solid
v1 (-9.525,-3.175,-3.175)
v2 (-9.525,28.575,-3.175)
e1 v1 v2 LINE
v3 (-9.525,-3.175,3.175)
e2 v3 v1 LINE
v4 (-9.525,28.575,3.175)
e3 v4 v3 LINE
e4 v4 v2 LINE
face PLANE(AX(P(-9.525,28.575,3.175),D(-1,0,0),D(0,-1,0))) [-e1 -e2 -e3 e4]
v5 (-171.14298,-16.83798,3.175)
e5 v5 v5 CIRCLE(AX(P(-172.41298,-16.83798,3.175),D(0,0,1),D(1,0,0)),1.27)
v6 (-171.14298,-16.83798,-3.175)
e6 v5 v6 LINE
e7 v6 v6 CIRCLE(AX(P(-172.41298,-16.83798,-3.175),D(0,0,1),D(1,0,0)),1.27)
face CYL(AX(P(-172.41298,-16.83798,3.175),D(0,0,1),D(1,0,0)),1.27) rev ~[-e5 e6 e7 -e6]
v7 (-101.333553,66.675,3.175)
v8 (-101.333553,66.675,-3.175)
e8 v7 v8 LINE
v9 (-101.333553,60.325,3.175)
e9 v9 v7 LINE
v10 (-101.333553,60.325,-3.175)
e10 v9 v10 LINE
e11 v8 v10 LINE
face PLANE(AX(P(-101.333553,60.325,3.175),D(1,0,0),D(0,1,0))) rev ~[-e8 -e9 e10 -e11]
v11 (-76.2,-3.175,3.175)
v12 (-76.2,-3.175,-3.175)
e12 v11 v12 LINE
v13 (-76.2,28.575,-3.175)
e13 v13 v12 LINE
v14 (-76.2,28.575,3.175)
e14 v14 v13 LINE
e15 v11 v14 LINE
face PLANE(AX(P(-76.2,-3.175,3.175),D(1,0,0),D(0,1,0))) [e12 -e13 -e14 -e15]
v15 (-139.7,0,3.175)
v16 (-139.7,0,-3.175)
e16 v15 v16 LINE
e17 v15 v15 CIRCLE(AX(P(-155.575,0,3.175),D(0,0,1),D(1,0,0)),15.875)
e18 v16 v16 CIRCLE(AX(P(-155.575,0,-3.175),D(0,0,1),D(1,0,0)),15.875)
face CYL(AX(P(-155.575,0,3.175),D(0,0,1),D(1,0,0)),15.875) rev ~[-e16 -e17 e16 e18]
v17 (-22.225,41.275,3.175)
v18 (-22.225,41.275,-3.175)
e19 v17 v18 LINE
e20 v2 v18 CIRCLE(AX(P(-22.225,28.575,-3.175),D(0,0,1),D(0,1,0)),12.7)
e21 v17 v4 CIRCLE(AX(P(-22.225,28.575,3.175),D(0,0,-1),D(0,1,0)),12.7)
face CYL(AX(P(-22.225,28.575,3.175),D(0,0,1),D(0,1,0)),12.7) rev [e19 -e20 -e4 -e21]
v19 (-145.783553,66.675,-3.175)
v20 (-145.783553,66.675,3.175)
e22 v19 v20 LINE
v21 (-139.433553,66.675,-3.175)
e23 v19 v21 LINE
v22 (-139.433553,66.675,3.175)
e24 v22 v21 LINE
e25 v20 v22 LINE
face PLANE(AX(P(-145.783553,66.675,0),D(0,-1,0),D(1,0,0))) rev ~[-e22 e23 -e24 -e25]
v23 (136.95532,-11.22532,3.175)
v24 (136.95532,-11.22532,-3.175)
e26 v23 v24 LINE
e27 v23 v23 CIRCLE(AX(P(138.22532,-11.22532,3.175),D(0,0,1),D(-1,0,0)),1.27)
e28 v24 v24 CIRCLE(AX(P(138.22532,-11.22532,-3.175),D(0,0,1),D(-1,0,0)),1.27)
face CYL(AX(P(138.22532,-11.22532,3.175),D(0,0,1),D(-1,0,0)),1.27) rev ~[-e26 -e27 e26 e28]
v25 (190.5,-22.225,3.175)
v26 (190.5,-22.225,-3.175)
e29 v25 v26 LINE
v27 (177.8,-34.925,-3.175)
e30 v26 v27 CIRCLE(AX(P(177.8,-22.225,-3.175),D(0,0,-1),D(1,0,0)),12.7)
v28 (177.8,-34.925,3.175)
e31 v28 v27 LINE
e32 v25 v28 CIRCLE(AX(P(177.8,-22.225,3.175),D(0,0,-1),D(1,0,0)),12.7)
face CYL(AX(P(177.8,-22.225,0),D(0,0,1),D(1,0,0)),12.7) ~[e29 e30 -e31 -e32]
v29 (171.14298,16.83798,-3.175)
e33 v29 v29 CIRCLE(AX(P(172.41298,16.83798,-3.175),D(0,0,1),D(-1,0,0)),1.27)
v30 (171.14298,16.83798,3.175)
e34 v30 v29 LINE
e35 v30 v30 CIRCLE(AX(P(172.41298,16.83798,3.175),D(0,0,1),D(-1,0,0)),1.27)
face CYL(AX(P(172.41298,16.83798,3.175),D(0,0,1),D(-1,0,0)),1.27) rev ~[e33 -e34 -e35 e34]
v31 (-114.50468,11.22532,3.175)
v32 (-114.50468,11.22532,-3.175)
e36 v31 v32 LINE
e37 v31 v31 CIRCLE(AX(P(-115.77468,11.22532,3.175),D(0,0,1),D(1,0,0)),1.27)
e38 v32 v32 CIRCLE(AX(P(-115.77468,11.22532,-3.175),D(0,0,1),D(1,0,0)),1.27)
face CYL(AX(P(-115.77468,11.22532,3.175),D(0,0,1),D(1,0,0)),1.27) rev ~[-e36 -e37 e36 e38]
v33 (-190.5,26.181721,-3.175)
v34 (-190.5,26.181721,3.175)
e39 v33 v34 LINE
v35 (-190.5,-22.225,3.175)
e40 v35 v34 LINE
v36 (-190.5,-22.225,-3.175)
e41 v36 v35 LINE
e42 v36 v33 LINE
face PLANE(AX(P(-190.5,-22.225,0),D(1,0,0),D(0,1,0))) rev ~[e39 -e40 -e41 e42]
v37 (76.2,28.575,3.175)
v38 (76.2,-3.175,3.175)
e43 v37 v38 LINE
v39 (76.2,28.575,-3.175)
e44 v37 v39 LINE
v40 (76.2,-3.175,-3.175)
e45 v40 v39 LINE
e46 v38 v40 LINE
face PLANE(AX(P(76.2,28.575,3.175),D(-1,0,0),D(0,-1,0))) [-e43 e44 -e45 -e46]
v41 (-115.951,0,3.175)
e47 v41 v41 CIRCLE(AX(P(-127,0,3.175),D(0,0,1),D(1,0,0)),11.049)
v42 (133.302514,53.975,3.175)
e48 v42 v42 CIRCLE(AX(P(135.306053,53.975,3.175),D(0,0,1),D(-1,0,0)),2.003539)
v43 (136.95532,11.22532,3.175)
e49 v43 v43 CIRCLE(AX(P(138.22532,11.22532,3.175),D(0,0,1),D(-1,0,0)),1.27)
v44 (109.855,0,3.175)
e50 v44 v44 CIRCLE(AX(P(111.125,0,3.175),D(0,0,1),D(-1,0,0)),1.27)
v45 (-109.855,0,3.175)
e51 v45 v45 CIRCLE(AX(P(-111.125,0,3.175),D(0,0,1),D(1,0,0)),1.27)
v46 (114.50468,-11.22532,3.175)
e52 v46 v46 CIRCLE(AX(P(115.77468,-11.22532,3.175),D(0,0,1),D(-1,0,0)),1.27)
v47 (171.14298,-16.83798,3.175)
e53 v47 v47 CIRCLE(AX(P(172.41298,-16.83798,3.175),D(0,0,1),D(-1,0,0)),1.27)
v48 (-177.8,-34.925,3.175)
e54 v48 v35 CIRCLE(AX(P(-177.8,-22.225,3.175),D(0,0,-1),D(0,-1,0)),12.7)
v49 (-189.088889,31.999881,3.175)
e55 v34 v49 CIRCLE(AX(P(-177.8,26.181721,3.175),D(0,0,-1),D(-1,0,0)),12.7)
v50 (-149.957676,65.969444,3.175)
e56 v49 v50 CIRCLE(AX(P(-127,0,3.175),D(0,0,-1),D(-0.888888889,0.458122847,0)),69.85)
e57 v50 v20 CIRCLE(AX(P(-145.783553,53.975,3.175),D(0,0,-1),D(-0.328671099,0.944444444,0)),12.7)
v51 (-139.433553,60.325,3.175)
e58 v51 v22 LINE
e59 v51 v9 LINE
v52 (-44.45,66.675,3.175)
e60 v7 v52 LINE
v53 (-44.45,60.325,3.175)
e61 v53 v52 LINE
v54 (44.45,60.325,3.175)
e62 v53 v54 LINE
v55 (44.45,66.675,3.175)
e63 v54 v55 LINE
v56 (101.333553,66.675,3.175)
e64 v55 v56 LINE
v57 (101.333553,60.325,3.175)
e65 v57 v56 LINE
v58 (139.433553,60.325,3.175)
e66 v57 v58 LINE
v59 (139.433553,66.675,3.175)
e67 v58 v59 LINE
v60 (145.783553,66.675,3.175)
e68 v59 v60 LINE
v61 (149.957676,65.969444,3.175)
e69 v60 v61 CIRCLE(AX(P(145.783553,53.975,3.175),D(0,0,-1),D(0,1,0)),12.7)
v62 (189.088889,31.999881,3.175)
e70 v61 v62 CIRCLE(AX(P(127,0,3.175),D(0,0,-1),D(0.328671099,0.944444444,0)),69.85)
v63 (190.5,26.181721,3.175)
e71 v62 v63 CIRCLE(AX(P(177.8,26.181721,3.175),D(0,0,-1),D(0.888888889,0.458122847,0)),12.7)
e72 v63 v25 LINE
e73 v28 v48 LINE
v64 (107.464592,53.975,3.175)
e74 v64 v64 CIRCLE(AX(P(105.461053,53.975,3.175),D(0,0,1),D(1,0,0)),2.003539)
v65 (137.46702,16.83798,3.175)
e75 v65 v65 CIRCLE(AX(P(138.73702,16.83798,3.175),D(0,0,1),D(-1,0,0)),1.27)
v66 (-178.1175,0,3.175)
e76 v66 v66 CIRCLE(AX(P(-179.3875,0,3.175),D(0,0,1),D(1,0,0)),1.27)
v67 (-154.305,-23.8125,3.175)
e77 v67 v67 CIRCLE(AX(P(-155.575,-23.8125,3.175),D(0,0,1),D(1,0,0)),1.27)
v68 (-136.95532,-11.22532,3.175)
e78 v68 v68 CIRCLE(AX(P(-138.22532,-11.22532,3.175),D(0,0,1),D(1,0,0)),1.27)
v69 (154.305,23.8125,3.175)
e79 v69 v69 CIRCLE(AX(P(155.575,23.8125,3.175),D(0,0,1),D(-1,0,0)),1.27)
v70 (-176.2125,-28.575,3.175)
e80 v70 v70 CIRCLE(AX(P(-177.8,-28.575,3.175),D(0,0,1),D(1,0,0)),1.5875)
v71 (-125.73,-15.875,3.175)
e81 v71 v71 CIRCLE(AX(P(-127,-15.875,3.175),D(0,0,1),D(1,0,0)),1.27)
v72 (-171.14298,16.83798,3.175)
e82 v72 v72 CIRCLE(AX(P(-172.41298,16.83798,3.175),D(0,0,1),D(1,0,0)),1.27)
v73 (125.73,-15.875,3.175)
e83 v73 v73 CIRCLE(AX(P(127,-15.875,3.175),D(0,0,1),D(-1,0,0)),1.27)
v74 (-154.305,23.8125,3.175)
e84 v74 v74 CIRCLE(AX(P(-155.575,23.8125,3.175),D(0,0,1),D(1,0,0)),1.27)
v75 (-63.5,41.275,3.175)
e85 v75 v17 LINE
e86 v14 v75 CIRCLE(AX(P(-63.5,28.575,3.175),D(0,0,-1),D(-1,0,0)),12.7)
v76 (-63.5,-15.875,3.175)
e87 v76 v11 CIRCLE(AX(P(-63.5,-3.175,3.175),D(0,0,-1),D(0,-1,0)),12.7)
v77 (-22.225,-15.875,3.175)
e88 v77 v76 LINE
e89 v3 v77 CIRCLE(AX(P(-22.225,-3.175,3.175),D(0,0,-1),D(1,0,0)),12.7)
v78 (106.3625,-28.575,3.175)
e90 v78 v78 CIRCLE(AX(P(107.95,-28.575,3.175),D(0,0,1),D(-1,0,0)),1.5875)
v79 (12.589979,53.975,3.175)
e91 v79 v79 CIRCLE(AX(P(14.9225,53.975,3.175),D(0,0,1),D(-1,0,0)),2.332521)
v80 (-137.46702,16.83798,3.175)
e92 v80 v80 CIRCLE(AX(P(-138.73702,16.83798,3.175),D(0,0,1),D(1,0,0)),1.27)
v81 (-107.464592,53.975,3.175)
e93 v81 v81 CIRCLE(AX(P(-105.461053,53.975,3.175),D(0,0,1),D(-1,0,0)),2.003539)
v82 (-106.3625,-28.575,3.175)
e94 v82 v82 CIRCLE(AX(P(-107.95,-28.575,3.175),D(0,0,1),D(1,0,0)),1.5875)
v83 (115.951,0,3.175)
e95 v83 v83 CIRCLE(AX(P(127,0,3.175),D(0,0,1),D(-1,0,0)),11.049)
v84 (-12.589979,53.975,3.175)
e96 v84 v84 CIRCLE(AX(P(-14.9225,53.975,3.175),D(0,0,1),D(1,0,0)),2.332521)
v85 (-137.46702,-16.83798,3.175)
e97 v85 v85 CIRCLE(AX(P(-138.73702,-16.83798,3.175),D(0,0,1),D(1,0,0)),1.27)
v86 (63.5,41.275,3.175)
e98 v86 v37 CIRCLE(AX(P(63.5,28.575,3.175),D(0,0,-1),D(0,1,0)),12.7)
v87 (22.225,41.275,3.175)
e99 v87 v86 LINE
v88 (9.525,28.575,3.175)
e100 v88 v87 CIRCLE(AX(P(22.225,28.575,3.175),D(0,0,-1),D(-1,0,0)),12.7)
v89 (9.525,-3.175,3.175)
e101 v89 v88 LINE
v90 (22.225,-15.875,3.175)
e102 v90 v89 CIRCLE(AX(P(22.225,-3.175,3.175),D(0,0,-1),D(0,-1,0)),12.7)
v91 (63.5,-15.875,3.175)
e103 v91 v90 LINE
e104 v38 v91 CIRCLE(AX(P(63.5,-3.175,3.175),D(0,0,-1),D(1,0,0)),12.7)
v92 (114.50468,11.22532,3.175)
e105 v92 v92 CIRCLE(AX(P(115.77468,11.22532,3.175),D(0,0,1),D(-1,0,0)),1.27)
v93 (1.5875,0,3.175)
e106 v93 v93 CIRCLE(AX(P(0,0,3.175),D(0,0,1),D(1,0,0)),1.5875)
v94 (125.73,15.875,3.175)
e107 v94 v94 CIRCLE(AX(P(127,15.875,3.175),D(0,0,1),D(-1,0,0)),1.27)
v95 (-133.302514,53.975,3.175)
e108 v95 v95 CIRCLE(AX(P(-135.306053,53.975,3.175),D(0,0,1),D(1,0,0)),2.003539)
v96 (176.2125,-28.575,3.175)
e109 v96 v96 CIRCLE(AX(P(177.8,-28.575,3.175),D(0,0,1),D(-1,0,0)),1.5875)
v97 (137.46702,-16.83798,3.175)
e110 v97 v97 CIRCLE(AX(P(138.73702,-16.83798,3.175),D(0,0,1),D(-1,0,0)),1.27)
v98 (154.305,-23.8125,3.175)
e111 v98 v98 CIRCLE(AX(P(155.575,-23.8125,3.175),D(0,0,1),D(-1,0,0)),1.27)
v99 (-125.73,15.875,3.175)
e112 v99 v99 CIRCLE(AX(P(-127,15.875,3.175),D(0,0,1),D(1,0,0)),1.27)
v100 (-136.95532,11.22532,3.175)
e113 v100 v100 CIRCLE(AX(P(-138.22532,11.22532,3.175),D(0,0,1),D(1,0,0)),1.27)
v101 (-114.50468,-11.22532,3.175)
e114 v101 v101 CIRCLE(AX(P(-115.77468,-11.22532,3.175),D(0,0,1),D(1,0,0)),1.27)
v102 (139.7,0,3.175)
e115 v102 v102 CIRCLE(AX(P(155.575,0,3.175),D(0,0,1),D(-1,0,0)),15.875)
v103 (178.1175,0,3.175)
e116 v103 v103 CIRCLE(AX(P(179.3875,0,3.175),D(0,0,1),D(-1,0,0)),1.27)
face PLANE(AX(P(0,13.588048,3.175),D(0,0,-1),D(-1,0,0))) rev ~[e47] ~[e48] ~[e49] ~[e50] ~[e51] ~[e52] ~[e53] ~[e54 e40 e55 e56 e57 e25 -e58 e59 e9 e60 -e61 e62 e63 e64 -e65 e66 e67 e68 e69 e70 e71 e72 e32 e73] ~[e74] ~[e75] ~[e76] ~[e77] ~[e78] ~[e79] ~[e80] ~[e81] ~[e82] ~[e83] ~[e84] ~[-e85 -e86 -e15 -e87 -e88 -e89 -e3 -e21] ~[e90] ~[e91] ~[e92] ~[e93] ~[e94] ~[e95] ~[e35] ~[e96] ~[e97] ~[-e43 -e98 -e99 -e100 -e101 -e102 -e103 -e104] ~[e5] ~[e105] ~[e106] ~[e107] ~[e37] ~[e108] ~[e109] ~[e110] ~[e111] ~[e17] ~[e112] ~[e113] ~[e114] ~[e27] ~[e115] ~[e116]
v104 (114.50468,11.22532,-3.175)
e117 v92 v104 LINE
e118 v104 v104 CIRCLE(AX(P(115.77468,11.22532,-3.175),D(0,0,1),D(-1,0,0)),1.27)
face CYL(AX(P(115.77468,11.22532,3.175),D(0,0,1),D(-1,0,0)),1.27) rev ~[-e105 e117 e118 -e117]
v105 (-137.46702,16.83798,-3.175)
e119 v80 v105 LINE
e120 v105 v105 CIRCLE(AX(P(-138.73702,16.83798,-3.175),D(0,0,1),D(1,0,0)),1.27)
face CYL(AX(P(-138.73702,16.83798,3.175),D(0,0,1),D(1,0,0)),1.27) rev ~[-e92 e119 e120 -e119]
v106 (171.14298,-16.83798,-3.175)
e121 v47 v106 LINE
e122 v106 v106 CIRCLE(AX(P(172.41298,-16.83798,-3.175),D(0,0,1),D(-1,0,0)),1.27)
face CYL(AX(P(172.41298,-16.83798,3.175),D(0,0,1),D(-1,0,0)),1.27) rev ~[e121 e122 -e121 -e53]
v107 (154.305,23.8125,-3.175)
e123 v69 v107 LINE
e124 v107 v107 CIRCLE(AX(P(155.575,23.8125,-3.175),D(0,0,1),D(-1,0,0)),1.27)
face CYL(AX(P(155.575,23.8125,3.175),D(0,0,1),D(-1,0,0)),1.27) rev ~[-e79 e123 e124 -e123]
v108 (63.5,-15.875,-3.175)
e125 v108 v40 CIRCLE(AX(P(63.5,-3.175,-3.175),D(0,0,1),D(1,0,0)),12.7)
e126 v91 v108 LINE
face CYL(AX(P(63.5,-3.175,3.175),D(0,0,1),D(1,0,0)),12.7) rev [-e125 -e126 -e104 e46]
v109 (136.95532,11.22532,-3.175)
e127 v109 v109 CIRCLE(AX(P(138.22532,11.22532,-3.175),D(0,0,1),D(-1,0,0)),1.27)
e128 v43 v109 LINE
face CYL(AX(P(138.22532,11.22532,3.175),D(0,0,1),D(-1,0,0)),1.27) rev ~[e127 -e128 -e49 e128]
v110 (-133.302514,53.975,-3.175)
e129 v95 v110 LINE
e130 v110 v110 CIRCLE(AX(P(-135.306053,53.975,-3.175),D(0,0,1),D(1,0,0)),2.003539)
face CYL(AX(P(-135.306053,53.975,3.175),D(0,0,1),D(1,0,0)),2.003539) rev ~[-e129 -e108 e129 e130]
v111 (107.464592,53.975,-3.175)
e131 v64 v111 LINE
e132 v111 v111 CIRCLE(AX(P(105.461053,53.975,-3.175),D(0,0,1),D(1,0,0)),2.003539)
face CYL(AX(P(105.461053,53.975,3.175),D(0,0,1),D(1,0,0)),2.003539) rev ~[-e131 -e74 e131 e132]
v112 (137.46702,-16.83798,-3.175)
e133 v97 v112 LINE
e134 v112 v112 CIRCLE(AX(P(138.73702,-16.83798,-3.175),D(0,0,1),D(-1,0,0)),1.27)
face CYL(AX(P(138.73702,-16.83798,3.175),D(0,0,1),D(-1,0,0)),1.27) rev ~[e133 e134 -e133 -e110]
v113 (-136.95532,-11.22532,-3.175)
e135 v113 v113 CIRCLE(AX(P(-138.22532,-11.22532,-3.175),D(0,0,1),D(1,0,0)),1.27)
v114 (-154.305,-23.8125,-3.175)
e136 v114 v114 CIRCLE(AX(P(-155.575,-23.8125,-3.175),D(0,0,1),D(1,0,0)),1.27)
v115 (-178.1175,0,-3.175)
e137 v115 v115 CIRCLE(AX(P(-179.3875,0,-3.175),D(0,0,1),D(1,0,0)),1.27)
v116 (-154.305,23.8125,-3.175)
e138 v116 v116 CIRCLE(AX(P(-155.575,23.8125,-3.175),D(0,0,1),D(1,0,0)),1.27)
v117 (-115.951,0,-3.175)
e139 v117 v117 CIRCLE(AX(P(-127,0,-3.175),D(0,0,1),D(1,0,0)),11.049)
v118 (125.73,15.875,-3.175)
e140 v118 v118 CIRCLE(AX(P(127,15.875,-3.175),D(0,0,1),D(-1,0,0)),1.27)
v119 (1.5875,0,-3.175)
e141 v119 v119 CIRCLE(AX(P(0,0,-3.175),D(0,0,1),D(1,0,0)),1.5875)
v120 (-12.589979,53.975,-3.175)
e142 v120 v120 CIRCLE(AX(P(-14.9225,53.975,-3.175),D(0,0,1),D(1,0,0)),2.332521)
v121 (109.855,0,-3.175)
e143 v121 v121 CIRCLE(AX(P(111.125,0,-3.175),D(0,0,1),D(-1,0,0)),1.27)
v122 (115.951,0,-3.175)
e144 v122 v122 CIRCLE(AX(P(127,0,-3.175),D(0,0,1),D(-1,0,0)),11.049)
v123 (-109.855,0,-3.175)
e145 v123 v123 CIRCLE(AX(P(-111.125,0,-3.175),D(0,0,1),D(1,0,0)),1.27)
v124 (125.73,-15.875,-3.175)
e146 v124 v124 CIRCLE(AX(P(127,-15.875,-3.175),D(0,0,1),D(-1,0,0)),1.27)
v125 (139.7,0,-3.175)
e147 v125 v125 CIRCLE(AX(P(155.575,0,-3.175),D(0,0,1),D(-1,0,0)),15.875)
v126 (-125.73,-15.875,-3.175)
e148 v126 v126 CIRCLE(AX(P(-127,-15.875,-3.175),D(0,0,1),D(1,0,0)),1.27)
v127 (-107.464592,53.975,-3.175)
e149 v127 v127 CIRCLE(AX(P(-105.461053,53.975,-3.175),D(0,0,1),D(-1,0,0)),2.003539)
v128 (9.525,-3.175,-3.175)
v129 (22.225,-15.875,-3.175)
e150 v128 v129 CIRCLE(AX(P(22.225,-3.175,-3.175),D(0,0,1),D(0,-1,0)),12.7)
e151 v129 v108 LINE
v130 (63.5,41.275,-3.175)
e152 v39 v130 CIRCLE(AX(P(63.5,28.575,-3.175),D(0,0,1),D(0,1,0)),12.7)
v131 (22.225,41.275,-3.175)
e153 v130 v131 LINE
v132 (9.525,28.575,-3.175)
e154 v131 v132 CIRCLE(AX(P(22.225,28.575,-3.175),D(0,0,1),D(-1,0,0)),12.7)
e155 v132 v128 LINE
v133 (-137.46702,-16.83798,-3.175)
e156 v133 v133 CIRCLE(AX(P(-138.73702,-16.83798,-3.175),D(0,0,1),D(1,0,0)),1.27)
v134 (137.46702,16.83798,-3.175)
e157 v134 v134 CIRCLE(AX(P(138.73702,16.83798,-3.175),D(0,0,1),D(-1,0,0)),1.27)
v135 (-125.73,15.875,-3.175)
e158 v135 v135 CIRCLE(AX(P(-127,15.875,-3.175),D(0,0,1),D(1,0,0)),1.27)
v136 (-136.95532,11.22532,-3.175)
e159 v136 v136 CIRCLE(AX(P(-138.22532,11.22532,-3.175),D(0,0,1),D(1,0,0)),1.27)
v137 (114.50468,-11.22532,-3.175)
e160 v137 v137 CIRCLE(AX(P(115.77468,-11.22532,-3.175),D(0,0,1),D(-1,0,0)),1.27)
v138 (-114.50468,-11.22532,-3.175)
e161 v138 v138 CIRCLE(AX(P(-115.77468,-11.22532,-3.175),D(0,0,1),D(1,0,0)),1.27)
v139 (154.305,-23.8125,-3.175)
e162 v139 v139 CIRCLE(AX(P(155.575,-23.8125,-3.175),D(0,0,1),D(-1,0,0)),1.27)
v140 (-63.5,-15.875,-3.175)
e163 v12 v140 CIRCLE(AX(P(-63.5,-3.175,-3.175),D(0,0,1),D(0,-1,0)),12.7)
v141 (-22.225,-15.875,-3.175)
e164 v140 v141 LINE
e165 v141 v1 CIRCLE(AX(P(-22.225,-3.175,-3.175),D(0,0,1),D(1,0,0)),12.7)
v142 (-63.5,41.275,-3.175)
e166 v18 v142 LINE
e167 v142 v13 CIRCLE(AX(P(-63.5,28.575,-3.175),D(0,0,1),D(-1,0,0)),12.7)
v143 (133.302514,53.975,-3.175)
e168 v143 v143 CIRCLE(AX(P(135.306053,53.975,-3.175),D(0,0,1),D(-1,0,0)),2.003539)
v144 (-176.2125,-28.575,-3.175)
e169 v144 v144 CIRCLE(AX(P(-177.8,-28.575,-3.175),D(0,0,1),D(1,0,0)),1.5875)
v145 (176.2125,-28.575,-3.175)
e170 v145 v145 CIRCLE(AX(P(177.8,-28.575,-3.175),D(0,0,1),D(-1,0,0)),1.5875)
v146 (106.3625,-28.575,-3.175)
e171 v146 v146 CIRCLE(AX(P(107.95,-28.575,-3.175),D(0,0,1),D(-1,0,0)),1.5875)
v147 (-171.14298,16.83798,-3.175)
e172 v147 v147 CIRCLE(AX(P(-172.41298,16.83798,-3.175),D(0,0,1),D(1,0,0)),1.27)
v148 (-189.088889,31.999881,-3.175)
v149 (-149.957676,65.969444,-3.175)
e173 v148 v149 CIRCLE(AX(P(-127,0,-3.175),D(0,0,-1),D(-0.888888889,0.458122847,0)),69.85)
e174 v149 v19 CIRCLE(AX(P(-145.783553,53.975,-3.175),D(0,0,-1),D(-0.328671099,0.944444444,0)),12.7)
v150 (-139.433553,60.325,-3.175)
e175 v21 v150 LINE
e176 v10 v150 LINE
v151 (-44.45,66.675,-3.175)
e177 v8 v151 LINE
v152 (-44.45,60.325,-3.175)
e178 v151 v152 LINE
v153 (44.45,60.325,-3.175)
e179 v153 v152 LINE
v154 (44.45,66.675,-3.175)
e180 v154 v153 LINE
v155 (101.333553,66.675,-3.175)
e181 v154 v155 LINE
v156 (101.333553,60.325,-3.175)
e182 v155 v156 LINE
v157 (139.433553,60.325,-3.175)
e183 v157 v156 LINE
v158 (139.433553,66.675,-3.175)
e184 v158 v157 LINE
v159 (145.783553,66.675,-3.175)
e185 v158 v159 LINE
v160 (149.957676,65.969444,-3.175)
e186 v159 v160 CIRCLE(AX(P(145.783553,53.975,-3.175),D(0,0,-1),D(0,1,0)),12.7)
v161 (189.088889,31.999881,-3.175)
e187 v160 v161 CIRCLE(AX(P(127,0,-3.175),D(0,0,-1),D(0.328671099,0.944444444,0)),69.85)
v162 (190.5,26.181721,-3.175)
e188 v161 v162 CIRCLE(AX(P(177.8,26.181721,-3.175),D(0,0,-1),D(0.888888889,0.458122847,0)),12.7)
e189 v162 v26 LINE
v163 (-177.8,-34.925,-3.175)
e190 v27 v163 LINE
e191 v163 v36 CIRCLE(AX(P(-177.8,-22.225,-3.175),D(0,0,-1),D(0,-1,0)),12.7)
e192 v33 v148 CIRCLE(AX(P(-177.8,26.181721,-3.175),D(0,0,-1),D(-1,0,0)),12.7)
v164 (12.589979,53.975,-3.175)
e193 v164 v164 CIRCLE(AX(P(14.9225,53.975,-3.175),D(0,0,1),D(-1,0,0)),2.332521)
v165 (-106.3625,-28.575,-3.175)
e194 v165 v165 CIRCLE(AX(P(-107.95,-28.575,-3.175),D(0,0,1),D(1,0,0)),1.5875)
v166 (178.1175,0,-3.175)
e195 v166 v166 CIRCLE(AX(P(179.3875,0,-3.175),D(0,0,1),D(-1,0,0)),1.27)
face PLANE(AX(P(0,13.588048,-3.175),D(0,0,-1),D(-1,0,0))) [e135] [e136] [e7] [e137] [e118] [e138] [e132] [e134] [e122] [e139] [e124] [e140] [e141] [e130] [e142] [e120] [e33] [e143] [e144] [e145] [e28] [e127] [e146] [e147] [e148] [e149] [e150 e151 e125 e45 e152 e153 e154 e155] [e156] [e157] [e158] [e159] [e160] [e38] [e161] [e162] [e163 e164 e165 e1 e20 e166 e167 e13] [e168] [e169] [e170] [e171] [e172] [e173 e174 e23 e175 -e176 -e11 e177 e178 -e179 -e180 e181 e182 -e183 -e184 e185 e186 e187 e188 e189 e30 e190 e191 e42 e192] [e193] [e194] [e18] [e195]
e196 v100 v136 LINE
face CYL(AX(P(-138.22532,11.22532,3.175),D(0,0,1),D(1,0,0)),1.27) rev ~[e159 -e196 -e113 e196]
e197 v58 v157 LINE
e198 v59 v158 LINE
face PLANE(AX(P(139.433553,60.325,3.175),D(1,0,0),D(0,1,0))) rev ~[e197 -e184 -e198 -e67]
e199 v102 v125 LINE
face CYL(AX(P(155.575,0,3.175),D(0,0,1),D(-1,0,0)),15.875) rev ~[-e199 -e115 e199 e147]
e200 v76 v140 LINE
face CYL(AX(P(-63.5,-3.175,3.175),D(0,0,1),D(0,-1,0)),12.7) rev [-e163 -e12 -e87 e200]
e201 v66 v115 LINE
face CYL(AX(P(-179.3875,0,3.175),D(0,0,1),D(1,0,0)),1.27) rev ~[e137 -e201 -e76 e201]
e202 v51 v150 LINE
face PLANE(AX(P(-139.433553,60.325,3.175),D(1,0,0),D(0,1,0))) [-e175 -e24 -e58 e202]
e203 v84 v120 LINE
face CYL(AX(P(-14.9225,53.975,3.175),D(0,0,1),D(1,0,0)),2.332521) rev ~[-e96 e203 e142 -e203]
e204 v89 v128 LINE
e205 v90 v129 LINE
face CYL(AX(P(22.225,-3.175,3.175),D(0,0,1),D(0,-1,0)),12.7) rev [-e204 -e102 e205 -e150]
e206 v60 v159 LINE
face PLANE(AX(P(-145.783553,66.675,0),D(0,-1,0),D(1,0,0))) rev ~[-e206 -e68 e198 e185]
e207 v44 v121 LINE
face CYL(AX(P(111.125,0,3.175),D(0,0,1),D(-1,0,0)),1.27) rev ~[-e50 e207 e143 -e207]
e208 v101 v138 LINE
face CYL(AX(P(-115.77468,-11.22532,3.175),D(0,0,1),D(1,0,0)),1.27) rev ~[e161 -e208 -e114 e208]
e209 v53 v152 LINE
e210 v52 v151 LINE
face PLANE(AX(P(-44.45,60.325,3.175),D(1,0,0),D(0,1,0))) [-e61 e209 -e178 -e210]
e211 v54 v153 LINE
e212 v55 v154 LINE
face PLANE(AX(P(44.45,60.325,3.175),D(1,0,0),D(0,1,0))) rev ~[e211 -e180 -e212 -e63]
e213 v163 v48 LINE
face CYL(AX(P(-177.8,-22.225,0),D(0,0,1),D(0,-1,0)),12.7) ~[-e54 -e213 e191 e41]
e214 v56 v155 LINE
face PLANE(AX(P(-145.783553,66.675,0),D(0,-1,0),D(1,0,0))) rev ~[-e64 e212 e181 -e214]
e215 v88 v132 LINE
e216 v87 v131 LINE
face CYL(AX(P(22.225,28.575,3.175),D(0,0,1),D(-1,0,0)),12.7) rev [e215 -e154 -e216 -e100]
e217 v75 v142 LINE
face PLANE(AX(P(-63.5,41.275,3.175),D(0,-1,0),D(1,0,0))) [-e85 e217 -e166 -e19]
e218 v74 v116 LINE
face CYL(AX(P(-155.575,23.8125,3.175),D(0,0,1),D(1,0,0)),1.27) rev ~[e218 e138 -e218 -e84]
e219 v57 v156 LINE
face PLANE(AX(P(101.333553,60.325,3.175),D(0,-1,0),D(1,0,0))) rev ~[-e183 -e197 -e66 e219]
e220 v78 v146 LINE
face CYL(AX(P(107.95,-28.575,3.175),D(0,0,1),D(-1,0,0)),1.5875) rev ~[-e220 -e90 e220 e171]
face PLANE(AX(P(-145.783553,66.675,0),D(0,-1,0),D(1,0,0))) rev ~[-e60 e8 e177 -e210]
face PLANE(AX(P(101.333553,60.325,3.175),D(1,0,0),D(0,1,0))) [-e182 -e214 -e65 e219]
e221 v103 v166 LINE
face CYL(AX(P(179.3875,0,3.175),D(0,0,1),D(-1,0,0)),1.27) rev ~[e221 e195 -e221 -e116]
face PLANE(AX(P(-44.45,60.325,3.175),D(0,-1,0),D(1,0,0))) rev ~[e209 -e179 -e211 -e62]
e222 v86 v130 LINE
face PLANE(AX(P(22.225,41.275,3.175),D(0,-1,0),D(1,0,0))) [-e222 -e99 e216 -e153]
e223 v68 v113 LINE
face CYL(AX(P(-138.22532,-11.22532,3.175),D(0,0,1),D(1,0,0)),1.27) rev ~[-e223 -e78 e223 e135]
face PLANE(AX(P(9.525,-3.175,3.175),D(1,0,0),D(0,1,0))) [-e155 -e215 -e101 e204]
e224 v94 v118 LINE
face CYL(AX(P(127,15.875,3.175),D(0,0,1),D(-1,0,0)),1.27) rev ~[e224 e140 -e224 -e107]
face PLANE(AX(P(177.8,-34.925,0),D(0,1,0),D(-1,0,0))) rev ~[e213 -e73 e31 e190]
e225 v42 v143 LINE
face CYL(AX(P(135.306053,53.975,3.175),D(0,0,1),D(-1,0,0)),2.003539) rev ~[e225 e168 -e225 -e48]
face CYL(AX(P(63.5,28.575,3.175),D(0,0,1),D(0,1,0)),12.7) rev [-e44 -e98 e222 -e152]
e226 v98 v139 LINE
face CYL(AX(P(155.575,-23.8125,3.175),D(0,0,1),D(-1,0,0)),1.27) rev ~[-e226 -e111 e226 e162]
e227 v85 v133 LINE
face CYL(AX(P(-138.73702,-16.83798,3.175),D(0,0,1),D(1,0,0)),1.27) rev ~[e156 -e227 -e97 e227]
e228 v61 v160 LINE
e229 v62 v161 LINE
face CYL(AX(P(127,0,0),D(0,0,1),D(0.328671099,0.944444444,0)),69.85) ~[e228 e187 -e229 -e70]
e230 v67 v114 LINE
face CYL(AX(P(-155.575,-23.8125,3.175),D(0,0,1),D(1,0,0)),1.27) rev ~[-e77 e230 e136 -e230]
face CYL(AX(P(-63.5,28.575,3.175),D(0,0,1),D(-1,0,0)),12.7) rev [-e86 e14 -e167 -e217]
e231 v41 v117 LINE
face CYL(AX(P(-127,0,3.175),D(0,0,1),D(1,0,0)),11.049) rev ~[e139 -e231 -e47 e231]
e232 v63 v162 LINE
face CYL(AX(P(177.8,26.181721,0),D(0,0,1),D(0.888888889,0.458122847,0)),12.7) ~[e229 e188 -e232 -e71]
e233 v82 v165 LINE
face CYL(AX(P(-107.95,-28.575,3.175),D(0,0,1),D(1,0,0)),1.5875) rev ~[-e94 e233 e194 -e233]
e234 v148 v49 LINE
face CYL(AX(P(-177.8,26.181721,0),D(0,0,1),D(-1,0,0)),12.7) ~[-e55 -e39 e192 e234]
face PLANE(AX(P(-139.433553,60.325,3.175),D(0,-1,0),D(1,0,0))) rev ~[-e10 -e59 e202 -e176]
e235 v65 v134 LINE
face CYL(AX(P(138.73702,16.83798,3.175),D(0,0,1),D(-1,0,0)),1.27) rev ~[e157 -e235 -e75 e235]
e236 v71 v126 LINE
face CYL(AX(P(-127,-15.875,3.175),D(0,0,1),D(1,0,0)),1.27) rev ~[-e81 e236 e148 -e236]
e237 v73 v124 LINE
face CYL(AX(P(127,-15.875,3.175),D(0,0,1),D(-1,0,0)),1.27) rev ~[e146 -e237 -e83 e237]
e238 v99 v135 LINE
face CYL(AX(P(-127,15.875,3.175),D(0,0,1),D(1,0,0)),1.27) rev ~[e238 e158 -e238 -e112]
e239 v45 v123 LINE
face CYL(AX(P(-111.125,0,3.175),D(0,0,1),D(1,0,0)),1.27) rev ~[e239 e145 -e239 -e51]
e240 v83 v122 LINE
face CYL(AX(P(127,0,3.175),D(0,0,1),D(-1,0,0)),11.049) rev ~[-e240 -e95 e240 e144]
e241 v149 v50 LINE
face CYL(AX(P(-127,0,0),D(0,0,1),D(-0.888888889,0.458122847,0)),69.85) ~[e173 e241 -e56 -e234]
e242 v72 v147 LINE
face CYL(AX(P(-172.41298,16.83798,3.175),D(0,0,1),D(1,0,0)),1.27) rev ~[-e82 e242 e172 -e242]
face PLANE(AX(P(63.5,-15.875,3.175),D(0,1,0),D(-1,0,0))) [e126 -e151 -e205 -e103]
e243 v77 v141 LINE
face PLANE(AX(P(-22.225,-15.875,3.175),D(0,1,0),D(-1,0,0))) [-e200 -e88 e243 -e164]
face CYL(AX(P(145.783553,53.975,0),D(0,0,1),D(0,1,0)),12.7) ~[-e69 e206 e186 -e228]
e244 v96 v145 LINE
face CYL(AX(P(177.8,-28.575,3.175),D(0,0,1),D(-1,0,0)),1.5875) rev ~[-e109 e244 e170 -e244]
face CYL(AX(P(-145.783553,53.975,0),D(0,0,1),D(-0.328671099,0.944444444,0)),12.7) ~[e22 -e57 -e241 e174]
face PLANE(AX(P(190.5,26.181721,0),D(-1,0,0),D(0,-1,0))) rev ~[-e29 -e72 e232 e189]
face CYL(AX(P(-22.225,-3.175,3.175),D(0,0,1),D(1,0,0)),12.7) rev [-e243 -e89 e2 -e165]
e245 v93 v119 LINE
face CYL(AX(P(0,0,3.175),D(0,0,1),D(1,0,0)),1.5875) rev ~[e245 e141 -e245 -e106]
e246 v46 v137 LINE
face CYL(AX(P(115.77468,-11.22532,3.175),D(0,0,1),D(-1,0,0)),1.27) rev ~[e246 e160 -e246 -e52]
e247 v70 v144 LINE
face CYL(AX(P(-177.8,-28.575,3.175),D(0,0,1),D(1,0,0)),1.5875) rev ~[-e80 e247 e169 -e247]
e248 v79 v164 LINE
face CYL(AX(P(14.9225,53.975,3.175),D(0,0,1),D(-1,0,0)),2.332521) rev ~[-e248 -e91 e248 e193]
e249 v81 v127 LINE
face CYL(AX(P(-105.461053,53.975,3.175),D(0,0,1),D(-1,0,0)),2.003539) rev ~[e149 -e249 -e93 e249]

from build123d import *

# Parameters (mm, degrees)
SKETCH1_R           = 3.175
BOSS_EXTRUDE1_DEPTH = 3.175
SKETCH2_R           = 11.049
SKETCH2_R_2         = 15.875
SKETCH2_R_3         = 1.27
CUT_EXTRUDE1_DEPTH  = 202.930998425
SKETCH3_W           = 38.1
SKETCH3_H           = 6.35
SKETCH3_W_2         = 88.9
CUT_EXTRUDE4_DEPTH  = 202.930998425
CUT_EXTRUDE5_DEPTH  = 202.930998425
SKETCH5_R           = 2.003539073
SKETCH5_R_2         = 2.332520908
CUT_EXTRUDE6_DEPTH  = 202.930998425
SKETCH6_R           = 1.5875
CUT_EXTRUDE7_DEPTH  = 202.930998425
SKETCH7_R           = 1.5875
CUT_EXTRUDE8_DEPTH  = 202.930998425


with BuildPart() as part:
    # Sketch1 → Boss-Extrude1 (new, symmetric)
    with BuildSketch(Plane.XY):
        with BuildLine():
            Line((-145.783553311, 66.675), (145.783553311, 66.675))
            ThreePointArc((145.783553311, 66.675), (147.900219978, 66.497368874), (149.957676269, 65.969444444))
            ThreePointArc((149.957676269, 65.969444444), (172.789871953, 52.74760778), (189.088888889, 31.999880883))
            ThreePointArc((189.088888889, 31.999880883), (190.142181511, 29.17513943), (190.5, 26.181720723))
            Line((190.5, 26.181720723), (190.5, -22.225))
            ThreePointArc((190.5, -22.225), (186.780256121, -31.205256121), (177.8, -34.925))
            Line((177.8, -34.925), (-177.8, -34.925))
            ThreePointArc((-177.8, -34.925), (-186.780256121, -31.205256121), (-190.5, -22.225))
            Line((-190.5, -22.225), (-190.5, 26.181720723))
            ThreePointArc((-190.5, 26.181720723), (-190.142181511, 29.17513943), (-189.088888889, 31.999880883))
            ThreePointArc((-189.088888889, 31.999880883), (-172.789871953, 52.74760778), (-149.957676269, 65.969444444))
            ThreePointArc((-149.957676269, 65.969444444), (-147.900219978, 66.497368874), (-145.783553311, 66.675))
        make_face()
        with Locations((-127, 0)):
            Circle(SKETCH1_R, mode=Mode.SUBTRACT)
        with Locations((127, 0)):
            Circle(SKETCH1_R, mode=Mode.SUBTRACT)
    extrude(amount=BOSS_EXTRUDE1_DEPTH, both=True)

    # Sketch2 → Cut-Extrude1 (cut, through all)
    with BuildSketch(Plane.XY.offset(3.175)):
        with Locations((-127, 0)):
            Circle(SKETCH2_R)
        with Locations((-155.575, 0)):
            Circle(SKETCH2_R_2)
        with Locations((-155.575, 23.8125)):
            Circle(SKETCH2_R_3)
        with Locations((-138.737019773, 16.837980227)):
            Circle(SKETCH2_R_3)
        with Locations((-138.737019773, -16.837980227)):
            Circle(SKETCH2_R_3)
        with Locations((-155.575, -23.8125)):
            Circle(SKETCH2_R_3)
        with Locations((-172.412980227, -16.837980227)):
            Circle(SKETCH2_R_3)
        with Locations((-179.3875, 0)):
            Circle(SKETCH2_R_3)
        with Locations((-172.412980227, 16.837980227)):
            Circle(SKETCH2_R_3)
        with Locations((-127, 15.875)):
            Circle(SKETCH2_R_3)
        with Locations((-115.774679849, 11.225320151)):
            Circle(SKETCH2_R_3)
        with Locations((-111.125, 0)):
            Circle(SKETCH2_R_3)
        with Locations((-115.774679849, -11.225320151)):
            Circle(SKETCH2_R_3)
        with Locations((-127, -15.875)):
            Circle(SKETCH2_R_3)
        with Locations((-138.225320151, -11.225320151)):
            Circle(SKETCH2_R_3)
        with Locations(Location((138.225320151, 11.225320151, 0), (0, 0, 180))):
            Circle(SKETCH2_R_3)
        with Locations((-138.225320151, 11.225320151)):
            Circle(SKETCH2_R_3)
        with Locations(Location((138.225320151, -11.225320151, 0), (0, 0, 180))):
            Circle(SKETCH2_R_3)
        with Locations(Location((127, -15.875, 0), (0, 0, 180))):
            Circle(SKETCH2_R_3)
        with Locations(Location((115.774679849, -11.225320151, 0), (0, 0, 180))):
            Circle(SKETCH2_R_3)
        with Locations(Location((111.125, 0, 0), (0, 0, 180))):
            Circle(SKETCH2_R_3)
        with Locations(Location((115.774679849, 11.225320151, 0), (0, 0, 180))):
            Circle(SKETCH2_R_3)
        with Locations(Location((127, 15.875, 0), (0, 0, 180))):
            Circle(SKETCH2_R_3)
        with Locations(Location((172.412980227, 16.837980227, 0), (0, 0, 180))):
            Circle(SKETCH2_R_3)
        with Locations(Location((179.3875, 0, 0), (0, 0, 180))):
            Circle(SKETCH2_R_3)
        with Locations(Location((172.412980227, -16.837980227, 0), (0, 0, 180))):
            Circle(SKETCH2_R_3)
        with Locations(Location((155.575, -23.8125, 0), (0, 0, 180))):
            Circle(SKETCH2_R_3)
        with Locations(Location((138.737019773, -16.837980227, 0), (0, 0, 180))):
            Circle(SKETCH2_R_3)
        with Locations(Location((138.737019773, 16.837980227, 0), (0, 0, 180))):
            Circle(SKETCH2_R_3)
        with Locations(Location((155.575, 23.8125, 0), (0, 0, 180))):
            Circle(SKETCH2_R_3)
        with Locations(Location((155.575, 0, 0), (0, 0, 180))):
            Circle(SKETCH2_R_2)
        with Locations(Location((127, 0, 0), (0, 0, 180))):
            Circle(SKETCH2_R)
    extrude(amount=-CUT_EXTRUDE1_DEPTH, mode=Mode.SUBTRACT)

    # Sketch3 → Cut-Extrude4 (cut, through all)
    with BuildSketch(Plane.XY.offset(3.175)):
        with Locations((-120.383553311, 63.5)):
            Rectangle(SKETCH3_W, SKETCH3_H)
        with Locations((120.383553311, 63.5)):
            Rectangle(SKETCH3_W, SKETCH3_H)
        with Locations((0, 63.5)):
            Rectangle(SKETCH3_W_2, SKETCH3_H)
    extrude(amount=-CUT_EXTRUDE4_DEPTH, mode=Mode.SUBTRACT)

    # Sketch4 → Cut-Extrude5 (cut, through all)
    with BuildSketch(Plane.XY.offset(3.175)):
        with BuildLine():
            Line((-63.5, 41.275), (-22.225, 41.275))
            ThreePointArc((-22.225, 41.275), (-13.244743879, 37.555256121), (-9.525, 28.575))
            Line((-9.525, 28.575), (-9.525, -3.175))
            ThreePointArc((-9.525, -3.175), (-13.244743879, -12.155256121), (-22.225, -15.875))
            Line((-22.225, -15.875), (-63.5, -15.875))
            ThreePointArc((-63.5, -15.875), (-72.480256121, -12.155256121), (-76.2, -3.175))
            Line((-76.2, -3.175), (-76.2, 28.575))
            ThreePointArc((-76.2, 28.575), (-72.480256121, 37.555256121), (-63.5, 41.275))
        make_face()
        with BuildLine():
            Line((76.2, 28.575), (76.2, -3.175))
            ThreePointArc((76.2, -3.175), (72.480256121, -12.155256121), (63.5, -15.875))
            Line((63.5, -15.875), (22.225, -15.875))
            ThreePointArc((22.225, -15.875), (13.244743879, -12.155256121), (9.525, -3.175))
            Line((9.525, -3.175), (9.525, 28.575))
            ThreePointArc((9.525, 28.575), (13.244743879, 37.555256121), (22.225, 41.275))
            Line((22.225, 41.275), (63.5, 41.275))
            ThreePointArc((63.5, 41.275), (72.480256121, 37.555256121), (76.2, 28.575))
        make_face()
    extrude(amount=-CUT_EXTRUDE5_DEPTH, mode=Mode.SUBTRACT)

    # Sketch5 → Cut-Extrude6 (cut, through all)
    with BuildSketch(Plane.XY.offset(3.175)):
        with Locations((-135.306053311, 53.975)):
            Circle(SKETCH5_R)
        with Locations(Location((-105.461053311, 53.975, 0), (0, 0, 180))):
            Circle(SKETCH5_R)
        with Locations((105.461053311, 53.975)):
            Circle(SKETCH5_R)
        with Locations(Location((135.306053311, 53.975, 0), (0, 0, 180))):
            Circle(SKETCH5_R)
        with Locations((-14.9225, 53.975)):
            Circle(SKETCH5_R_2)
        with Locations(Location((14.9225, 53.975, 0), (0, 0, 180))):
            Circle(SKETCH5_R_2)
    extrude(amount=-CUT_EXTRUDE6_DEPTH, mode=Mode.SUBTRACT)

    # Sketch6 → Cut-Extrude7 (cut, through all)
    with BuildSketch(Plane.XY.offset(3.175)):
        with Locations((-177.8, -28.575)):
            Circle(SKETCH6_R)
        with Locations((-107.95, -28.575)):
            Circle(SKETCH6_R)
        with Locations(Location((107.95, -28.575, 0), (0, 0, 180))):
            Circle(SKETCH6_R)
        with Locations(Location((177.8, -28.575, 0), (0, 0, 180))):
            Circle(SKETCH6_R)
    extrude(amount=-CUT_EXTRUDE7_DEPTH, mode=Mode.SUBTRACT)

    # Sketch7 → Cut-Extrude8 (cut, through all)
    with BuildSketch(Plane.XY.offset(3.175)):
        Circle(SKETCH7_R)
    extrude(amount=-CUT_EXTRUDE8_DEPTH, mode=Mode.SUBTRACT)


solid = part.part
